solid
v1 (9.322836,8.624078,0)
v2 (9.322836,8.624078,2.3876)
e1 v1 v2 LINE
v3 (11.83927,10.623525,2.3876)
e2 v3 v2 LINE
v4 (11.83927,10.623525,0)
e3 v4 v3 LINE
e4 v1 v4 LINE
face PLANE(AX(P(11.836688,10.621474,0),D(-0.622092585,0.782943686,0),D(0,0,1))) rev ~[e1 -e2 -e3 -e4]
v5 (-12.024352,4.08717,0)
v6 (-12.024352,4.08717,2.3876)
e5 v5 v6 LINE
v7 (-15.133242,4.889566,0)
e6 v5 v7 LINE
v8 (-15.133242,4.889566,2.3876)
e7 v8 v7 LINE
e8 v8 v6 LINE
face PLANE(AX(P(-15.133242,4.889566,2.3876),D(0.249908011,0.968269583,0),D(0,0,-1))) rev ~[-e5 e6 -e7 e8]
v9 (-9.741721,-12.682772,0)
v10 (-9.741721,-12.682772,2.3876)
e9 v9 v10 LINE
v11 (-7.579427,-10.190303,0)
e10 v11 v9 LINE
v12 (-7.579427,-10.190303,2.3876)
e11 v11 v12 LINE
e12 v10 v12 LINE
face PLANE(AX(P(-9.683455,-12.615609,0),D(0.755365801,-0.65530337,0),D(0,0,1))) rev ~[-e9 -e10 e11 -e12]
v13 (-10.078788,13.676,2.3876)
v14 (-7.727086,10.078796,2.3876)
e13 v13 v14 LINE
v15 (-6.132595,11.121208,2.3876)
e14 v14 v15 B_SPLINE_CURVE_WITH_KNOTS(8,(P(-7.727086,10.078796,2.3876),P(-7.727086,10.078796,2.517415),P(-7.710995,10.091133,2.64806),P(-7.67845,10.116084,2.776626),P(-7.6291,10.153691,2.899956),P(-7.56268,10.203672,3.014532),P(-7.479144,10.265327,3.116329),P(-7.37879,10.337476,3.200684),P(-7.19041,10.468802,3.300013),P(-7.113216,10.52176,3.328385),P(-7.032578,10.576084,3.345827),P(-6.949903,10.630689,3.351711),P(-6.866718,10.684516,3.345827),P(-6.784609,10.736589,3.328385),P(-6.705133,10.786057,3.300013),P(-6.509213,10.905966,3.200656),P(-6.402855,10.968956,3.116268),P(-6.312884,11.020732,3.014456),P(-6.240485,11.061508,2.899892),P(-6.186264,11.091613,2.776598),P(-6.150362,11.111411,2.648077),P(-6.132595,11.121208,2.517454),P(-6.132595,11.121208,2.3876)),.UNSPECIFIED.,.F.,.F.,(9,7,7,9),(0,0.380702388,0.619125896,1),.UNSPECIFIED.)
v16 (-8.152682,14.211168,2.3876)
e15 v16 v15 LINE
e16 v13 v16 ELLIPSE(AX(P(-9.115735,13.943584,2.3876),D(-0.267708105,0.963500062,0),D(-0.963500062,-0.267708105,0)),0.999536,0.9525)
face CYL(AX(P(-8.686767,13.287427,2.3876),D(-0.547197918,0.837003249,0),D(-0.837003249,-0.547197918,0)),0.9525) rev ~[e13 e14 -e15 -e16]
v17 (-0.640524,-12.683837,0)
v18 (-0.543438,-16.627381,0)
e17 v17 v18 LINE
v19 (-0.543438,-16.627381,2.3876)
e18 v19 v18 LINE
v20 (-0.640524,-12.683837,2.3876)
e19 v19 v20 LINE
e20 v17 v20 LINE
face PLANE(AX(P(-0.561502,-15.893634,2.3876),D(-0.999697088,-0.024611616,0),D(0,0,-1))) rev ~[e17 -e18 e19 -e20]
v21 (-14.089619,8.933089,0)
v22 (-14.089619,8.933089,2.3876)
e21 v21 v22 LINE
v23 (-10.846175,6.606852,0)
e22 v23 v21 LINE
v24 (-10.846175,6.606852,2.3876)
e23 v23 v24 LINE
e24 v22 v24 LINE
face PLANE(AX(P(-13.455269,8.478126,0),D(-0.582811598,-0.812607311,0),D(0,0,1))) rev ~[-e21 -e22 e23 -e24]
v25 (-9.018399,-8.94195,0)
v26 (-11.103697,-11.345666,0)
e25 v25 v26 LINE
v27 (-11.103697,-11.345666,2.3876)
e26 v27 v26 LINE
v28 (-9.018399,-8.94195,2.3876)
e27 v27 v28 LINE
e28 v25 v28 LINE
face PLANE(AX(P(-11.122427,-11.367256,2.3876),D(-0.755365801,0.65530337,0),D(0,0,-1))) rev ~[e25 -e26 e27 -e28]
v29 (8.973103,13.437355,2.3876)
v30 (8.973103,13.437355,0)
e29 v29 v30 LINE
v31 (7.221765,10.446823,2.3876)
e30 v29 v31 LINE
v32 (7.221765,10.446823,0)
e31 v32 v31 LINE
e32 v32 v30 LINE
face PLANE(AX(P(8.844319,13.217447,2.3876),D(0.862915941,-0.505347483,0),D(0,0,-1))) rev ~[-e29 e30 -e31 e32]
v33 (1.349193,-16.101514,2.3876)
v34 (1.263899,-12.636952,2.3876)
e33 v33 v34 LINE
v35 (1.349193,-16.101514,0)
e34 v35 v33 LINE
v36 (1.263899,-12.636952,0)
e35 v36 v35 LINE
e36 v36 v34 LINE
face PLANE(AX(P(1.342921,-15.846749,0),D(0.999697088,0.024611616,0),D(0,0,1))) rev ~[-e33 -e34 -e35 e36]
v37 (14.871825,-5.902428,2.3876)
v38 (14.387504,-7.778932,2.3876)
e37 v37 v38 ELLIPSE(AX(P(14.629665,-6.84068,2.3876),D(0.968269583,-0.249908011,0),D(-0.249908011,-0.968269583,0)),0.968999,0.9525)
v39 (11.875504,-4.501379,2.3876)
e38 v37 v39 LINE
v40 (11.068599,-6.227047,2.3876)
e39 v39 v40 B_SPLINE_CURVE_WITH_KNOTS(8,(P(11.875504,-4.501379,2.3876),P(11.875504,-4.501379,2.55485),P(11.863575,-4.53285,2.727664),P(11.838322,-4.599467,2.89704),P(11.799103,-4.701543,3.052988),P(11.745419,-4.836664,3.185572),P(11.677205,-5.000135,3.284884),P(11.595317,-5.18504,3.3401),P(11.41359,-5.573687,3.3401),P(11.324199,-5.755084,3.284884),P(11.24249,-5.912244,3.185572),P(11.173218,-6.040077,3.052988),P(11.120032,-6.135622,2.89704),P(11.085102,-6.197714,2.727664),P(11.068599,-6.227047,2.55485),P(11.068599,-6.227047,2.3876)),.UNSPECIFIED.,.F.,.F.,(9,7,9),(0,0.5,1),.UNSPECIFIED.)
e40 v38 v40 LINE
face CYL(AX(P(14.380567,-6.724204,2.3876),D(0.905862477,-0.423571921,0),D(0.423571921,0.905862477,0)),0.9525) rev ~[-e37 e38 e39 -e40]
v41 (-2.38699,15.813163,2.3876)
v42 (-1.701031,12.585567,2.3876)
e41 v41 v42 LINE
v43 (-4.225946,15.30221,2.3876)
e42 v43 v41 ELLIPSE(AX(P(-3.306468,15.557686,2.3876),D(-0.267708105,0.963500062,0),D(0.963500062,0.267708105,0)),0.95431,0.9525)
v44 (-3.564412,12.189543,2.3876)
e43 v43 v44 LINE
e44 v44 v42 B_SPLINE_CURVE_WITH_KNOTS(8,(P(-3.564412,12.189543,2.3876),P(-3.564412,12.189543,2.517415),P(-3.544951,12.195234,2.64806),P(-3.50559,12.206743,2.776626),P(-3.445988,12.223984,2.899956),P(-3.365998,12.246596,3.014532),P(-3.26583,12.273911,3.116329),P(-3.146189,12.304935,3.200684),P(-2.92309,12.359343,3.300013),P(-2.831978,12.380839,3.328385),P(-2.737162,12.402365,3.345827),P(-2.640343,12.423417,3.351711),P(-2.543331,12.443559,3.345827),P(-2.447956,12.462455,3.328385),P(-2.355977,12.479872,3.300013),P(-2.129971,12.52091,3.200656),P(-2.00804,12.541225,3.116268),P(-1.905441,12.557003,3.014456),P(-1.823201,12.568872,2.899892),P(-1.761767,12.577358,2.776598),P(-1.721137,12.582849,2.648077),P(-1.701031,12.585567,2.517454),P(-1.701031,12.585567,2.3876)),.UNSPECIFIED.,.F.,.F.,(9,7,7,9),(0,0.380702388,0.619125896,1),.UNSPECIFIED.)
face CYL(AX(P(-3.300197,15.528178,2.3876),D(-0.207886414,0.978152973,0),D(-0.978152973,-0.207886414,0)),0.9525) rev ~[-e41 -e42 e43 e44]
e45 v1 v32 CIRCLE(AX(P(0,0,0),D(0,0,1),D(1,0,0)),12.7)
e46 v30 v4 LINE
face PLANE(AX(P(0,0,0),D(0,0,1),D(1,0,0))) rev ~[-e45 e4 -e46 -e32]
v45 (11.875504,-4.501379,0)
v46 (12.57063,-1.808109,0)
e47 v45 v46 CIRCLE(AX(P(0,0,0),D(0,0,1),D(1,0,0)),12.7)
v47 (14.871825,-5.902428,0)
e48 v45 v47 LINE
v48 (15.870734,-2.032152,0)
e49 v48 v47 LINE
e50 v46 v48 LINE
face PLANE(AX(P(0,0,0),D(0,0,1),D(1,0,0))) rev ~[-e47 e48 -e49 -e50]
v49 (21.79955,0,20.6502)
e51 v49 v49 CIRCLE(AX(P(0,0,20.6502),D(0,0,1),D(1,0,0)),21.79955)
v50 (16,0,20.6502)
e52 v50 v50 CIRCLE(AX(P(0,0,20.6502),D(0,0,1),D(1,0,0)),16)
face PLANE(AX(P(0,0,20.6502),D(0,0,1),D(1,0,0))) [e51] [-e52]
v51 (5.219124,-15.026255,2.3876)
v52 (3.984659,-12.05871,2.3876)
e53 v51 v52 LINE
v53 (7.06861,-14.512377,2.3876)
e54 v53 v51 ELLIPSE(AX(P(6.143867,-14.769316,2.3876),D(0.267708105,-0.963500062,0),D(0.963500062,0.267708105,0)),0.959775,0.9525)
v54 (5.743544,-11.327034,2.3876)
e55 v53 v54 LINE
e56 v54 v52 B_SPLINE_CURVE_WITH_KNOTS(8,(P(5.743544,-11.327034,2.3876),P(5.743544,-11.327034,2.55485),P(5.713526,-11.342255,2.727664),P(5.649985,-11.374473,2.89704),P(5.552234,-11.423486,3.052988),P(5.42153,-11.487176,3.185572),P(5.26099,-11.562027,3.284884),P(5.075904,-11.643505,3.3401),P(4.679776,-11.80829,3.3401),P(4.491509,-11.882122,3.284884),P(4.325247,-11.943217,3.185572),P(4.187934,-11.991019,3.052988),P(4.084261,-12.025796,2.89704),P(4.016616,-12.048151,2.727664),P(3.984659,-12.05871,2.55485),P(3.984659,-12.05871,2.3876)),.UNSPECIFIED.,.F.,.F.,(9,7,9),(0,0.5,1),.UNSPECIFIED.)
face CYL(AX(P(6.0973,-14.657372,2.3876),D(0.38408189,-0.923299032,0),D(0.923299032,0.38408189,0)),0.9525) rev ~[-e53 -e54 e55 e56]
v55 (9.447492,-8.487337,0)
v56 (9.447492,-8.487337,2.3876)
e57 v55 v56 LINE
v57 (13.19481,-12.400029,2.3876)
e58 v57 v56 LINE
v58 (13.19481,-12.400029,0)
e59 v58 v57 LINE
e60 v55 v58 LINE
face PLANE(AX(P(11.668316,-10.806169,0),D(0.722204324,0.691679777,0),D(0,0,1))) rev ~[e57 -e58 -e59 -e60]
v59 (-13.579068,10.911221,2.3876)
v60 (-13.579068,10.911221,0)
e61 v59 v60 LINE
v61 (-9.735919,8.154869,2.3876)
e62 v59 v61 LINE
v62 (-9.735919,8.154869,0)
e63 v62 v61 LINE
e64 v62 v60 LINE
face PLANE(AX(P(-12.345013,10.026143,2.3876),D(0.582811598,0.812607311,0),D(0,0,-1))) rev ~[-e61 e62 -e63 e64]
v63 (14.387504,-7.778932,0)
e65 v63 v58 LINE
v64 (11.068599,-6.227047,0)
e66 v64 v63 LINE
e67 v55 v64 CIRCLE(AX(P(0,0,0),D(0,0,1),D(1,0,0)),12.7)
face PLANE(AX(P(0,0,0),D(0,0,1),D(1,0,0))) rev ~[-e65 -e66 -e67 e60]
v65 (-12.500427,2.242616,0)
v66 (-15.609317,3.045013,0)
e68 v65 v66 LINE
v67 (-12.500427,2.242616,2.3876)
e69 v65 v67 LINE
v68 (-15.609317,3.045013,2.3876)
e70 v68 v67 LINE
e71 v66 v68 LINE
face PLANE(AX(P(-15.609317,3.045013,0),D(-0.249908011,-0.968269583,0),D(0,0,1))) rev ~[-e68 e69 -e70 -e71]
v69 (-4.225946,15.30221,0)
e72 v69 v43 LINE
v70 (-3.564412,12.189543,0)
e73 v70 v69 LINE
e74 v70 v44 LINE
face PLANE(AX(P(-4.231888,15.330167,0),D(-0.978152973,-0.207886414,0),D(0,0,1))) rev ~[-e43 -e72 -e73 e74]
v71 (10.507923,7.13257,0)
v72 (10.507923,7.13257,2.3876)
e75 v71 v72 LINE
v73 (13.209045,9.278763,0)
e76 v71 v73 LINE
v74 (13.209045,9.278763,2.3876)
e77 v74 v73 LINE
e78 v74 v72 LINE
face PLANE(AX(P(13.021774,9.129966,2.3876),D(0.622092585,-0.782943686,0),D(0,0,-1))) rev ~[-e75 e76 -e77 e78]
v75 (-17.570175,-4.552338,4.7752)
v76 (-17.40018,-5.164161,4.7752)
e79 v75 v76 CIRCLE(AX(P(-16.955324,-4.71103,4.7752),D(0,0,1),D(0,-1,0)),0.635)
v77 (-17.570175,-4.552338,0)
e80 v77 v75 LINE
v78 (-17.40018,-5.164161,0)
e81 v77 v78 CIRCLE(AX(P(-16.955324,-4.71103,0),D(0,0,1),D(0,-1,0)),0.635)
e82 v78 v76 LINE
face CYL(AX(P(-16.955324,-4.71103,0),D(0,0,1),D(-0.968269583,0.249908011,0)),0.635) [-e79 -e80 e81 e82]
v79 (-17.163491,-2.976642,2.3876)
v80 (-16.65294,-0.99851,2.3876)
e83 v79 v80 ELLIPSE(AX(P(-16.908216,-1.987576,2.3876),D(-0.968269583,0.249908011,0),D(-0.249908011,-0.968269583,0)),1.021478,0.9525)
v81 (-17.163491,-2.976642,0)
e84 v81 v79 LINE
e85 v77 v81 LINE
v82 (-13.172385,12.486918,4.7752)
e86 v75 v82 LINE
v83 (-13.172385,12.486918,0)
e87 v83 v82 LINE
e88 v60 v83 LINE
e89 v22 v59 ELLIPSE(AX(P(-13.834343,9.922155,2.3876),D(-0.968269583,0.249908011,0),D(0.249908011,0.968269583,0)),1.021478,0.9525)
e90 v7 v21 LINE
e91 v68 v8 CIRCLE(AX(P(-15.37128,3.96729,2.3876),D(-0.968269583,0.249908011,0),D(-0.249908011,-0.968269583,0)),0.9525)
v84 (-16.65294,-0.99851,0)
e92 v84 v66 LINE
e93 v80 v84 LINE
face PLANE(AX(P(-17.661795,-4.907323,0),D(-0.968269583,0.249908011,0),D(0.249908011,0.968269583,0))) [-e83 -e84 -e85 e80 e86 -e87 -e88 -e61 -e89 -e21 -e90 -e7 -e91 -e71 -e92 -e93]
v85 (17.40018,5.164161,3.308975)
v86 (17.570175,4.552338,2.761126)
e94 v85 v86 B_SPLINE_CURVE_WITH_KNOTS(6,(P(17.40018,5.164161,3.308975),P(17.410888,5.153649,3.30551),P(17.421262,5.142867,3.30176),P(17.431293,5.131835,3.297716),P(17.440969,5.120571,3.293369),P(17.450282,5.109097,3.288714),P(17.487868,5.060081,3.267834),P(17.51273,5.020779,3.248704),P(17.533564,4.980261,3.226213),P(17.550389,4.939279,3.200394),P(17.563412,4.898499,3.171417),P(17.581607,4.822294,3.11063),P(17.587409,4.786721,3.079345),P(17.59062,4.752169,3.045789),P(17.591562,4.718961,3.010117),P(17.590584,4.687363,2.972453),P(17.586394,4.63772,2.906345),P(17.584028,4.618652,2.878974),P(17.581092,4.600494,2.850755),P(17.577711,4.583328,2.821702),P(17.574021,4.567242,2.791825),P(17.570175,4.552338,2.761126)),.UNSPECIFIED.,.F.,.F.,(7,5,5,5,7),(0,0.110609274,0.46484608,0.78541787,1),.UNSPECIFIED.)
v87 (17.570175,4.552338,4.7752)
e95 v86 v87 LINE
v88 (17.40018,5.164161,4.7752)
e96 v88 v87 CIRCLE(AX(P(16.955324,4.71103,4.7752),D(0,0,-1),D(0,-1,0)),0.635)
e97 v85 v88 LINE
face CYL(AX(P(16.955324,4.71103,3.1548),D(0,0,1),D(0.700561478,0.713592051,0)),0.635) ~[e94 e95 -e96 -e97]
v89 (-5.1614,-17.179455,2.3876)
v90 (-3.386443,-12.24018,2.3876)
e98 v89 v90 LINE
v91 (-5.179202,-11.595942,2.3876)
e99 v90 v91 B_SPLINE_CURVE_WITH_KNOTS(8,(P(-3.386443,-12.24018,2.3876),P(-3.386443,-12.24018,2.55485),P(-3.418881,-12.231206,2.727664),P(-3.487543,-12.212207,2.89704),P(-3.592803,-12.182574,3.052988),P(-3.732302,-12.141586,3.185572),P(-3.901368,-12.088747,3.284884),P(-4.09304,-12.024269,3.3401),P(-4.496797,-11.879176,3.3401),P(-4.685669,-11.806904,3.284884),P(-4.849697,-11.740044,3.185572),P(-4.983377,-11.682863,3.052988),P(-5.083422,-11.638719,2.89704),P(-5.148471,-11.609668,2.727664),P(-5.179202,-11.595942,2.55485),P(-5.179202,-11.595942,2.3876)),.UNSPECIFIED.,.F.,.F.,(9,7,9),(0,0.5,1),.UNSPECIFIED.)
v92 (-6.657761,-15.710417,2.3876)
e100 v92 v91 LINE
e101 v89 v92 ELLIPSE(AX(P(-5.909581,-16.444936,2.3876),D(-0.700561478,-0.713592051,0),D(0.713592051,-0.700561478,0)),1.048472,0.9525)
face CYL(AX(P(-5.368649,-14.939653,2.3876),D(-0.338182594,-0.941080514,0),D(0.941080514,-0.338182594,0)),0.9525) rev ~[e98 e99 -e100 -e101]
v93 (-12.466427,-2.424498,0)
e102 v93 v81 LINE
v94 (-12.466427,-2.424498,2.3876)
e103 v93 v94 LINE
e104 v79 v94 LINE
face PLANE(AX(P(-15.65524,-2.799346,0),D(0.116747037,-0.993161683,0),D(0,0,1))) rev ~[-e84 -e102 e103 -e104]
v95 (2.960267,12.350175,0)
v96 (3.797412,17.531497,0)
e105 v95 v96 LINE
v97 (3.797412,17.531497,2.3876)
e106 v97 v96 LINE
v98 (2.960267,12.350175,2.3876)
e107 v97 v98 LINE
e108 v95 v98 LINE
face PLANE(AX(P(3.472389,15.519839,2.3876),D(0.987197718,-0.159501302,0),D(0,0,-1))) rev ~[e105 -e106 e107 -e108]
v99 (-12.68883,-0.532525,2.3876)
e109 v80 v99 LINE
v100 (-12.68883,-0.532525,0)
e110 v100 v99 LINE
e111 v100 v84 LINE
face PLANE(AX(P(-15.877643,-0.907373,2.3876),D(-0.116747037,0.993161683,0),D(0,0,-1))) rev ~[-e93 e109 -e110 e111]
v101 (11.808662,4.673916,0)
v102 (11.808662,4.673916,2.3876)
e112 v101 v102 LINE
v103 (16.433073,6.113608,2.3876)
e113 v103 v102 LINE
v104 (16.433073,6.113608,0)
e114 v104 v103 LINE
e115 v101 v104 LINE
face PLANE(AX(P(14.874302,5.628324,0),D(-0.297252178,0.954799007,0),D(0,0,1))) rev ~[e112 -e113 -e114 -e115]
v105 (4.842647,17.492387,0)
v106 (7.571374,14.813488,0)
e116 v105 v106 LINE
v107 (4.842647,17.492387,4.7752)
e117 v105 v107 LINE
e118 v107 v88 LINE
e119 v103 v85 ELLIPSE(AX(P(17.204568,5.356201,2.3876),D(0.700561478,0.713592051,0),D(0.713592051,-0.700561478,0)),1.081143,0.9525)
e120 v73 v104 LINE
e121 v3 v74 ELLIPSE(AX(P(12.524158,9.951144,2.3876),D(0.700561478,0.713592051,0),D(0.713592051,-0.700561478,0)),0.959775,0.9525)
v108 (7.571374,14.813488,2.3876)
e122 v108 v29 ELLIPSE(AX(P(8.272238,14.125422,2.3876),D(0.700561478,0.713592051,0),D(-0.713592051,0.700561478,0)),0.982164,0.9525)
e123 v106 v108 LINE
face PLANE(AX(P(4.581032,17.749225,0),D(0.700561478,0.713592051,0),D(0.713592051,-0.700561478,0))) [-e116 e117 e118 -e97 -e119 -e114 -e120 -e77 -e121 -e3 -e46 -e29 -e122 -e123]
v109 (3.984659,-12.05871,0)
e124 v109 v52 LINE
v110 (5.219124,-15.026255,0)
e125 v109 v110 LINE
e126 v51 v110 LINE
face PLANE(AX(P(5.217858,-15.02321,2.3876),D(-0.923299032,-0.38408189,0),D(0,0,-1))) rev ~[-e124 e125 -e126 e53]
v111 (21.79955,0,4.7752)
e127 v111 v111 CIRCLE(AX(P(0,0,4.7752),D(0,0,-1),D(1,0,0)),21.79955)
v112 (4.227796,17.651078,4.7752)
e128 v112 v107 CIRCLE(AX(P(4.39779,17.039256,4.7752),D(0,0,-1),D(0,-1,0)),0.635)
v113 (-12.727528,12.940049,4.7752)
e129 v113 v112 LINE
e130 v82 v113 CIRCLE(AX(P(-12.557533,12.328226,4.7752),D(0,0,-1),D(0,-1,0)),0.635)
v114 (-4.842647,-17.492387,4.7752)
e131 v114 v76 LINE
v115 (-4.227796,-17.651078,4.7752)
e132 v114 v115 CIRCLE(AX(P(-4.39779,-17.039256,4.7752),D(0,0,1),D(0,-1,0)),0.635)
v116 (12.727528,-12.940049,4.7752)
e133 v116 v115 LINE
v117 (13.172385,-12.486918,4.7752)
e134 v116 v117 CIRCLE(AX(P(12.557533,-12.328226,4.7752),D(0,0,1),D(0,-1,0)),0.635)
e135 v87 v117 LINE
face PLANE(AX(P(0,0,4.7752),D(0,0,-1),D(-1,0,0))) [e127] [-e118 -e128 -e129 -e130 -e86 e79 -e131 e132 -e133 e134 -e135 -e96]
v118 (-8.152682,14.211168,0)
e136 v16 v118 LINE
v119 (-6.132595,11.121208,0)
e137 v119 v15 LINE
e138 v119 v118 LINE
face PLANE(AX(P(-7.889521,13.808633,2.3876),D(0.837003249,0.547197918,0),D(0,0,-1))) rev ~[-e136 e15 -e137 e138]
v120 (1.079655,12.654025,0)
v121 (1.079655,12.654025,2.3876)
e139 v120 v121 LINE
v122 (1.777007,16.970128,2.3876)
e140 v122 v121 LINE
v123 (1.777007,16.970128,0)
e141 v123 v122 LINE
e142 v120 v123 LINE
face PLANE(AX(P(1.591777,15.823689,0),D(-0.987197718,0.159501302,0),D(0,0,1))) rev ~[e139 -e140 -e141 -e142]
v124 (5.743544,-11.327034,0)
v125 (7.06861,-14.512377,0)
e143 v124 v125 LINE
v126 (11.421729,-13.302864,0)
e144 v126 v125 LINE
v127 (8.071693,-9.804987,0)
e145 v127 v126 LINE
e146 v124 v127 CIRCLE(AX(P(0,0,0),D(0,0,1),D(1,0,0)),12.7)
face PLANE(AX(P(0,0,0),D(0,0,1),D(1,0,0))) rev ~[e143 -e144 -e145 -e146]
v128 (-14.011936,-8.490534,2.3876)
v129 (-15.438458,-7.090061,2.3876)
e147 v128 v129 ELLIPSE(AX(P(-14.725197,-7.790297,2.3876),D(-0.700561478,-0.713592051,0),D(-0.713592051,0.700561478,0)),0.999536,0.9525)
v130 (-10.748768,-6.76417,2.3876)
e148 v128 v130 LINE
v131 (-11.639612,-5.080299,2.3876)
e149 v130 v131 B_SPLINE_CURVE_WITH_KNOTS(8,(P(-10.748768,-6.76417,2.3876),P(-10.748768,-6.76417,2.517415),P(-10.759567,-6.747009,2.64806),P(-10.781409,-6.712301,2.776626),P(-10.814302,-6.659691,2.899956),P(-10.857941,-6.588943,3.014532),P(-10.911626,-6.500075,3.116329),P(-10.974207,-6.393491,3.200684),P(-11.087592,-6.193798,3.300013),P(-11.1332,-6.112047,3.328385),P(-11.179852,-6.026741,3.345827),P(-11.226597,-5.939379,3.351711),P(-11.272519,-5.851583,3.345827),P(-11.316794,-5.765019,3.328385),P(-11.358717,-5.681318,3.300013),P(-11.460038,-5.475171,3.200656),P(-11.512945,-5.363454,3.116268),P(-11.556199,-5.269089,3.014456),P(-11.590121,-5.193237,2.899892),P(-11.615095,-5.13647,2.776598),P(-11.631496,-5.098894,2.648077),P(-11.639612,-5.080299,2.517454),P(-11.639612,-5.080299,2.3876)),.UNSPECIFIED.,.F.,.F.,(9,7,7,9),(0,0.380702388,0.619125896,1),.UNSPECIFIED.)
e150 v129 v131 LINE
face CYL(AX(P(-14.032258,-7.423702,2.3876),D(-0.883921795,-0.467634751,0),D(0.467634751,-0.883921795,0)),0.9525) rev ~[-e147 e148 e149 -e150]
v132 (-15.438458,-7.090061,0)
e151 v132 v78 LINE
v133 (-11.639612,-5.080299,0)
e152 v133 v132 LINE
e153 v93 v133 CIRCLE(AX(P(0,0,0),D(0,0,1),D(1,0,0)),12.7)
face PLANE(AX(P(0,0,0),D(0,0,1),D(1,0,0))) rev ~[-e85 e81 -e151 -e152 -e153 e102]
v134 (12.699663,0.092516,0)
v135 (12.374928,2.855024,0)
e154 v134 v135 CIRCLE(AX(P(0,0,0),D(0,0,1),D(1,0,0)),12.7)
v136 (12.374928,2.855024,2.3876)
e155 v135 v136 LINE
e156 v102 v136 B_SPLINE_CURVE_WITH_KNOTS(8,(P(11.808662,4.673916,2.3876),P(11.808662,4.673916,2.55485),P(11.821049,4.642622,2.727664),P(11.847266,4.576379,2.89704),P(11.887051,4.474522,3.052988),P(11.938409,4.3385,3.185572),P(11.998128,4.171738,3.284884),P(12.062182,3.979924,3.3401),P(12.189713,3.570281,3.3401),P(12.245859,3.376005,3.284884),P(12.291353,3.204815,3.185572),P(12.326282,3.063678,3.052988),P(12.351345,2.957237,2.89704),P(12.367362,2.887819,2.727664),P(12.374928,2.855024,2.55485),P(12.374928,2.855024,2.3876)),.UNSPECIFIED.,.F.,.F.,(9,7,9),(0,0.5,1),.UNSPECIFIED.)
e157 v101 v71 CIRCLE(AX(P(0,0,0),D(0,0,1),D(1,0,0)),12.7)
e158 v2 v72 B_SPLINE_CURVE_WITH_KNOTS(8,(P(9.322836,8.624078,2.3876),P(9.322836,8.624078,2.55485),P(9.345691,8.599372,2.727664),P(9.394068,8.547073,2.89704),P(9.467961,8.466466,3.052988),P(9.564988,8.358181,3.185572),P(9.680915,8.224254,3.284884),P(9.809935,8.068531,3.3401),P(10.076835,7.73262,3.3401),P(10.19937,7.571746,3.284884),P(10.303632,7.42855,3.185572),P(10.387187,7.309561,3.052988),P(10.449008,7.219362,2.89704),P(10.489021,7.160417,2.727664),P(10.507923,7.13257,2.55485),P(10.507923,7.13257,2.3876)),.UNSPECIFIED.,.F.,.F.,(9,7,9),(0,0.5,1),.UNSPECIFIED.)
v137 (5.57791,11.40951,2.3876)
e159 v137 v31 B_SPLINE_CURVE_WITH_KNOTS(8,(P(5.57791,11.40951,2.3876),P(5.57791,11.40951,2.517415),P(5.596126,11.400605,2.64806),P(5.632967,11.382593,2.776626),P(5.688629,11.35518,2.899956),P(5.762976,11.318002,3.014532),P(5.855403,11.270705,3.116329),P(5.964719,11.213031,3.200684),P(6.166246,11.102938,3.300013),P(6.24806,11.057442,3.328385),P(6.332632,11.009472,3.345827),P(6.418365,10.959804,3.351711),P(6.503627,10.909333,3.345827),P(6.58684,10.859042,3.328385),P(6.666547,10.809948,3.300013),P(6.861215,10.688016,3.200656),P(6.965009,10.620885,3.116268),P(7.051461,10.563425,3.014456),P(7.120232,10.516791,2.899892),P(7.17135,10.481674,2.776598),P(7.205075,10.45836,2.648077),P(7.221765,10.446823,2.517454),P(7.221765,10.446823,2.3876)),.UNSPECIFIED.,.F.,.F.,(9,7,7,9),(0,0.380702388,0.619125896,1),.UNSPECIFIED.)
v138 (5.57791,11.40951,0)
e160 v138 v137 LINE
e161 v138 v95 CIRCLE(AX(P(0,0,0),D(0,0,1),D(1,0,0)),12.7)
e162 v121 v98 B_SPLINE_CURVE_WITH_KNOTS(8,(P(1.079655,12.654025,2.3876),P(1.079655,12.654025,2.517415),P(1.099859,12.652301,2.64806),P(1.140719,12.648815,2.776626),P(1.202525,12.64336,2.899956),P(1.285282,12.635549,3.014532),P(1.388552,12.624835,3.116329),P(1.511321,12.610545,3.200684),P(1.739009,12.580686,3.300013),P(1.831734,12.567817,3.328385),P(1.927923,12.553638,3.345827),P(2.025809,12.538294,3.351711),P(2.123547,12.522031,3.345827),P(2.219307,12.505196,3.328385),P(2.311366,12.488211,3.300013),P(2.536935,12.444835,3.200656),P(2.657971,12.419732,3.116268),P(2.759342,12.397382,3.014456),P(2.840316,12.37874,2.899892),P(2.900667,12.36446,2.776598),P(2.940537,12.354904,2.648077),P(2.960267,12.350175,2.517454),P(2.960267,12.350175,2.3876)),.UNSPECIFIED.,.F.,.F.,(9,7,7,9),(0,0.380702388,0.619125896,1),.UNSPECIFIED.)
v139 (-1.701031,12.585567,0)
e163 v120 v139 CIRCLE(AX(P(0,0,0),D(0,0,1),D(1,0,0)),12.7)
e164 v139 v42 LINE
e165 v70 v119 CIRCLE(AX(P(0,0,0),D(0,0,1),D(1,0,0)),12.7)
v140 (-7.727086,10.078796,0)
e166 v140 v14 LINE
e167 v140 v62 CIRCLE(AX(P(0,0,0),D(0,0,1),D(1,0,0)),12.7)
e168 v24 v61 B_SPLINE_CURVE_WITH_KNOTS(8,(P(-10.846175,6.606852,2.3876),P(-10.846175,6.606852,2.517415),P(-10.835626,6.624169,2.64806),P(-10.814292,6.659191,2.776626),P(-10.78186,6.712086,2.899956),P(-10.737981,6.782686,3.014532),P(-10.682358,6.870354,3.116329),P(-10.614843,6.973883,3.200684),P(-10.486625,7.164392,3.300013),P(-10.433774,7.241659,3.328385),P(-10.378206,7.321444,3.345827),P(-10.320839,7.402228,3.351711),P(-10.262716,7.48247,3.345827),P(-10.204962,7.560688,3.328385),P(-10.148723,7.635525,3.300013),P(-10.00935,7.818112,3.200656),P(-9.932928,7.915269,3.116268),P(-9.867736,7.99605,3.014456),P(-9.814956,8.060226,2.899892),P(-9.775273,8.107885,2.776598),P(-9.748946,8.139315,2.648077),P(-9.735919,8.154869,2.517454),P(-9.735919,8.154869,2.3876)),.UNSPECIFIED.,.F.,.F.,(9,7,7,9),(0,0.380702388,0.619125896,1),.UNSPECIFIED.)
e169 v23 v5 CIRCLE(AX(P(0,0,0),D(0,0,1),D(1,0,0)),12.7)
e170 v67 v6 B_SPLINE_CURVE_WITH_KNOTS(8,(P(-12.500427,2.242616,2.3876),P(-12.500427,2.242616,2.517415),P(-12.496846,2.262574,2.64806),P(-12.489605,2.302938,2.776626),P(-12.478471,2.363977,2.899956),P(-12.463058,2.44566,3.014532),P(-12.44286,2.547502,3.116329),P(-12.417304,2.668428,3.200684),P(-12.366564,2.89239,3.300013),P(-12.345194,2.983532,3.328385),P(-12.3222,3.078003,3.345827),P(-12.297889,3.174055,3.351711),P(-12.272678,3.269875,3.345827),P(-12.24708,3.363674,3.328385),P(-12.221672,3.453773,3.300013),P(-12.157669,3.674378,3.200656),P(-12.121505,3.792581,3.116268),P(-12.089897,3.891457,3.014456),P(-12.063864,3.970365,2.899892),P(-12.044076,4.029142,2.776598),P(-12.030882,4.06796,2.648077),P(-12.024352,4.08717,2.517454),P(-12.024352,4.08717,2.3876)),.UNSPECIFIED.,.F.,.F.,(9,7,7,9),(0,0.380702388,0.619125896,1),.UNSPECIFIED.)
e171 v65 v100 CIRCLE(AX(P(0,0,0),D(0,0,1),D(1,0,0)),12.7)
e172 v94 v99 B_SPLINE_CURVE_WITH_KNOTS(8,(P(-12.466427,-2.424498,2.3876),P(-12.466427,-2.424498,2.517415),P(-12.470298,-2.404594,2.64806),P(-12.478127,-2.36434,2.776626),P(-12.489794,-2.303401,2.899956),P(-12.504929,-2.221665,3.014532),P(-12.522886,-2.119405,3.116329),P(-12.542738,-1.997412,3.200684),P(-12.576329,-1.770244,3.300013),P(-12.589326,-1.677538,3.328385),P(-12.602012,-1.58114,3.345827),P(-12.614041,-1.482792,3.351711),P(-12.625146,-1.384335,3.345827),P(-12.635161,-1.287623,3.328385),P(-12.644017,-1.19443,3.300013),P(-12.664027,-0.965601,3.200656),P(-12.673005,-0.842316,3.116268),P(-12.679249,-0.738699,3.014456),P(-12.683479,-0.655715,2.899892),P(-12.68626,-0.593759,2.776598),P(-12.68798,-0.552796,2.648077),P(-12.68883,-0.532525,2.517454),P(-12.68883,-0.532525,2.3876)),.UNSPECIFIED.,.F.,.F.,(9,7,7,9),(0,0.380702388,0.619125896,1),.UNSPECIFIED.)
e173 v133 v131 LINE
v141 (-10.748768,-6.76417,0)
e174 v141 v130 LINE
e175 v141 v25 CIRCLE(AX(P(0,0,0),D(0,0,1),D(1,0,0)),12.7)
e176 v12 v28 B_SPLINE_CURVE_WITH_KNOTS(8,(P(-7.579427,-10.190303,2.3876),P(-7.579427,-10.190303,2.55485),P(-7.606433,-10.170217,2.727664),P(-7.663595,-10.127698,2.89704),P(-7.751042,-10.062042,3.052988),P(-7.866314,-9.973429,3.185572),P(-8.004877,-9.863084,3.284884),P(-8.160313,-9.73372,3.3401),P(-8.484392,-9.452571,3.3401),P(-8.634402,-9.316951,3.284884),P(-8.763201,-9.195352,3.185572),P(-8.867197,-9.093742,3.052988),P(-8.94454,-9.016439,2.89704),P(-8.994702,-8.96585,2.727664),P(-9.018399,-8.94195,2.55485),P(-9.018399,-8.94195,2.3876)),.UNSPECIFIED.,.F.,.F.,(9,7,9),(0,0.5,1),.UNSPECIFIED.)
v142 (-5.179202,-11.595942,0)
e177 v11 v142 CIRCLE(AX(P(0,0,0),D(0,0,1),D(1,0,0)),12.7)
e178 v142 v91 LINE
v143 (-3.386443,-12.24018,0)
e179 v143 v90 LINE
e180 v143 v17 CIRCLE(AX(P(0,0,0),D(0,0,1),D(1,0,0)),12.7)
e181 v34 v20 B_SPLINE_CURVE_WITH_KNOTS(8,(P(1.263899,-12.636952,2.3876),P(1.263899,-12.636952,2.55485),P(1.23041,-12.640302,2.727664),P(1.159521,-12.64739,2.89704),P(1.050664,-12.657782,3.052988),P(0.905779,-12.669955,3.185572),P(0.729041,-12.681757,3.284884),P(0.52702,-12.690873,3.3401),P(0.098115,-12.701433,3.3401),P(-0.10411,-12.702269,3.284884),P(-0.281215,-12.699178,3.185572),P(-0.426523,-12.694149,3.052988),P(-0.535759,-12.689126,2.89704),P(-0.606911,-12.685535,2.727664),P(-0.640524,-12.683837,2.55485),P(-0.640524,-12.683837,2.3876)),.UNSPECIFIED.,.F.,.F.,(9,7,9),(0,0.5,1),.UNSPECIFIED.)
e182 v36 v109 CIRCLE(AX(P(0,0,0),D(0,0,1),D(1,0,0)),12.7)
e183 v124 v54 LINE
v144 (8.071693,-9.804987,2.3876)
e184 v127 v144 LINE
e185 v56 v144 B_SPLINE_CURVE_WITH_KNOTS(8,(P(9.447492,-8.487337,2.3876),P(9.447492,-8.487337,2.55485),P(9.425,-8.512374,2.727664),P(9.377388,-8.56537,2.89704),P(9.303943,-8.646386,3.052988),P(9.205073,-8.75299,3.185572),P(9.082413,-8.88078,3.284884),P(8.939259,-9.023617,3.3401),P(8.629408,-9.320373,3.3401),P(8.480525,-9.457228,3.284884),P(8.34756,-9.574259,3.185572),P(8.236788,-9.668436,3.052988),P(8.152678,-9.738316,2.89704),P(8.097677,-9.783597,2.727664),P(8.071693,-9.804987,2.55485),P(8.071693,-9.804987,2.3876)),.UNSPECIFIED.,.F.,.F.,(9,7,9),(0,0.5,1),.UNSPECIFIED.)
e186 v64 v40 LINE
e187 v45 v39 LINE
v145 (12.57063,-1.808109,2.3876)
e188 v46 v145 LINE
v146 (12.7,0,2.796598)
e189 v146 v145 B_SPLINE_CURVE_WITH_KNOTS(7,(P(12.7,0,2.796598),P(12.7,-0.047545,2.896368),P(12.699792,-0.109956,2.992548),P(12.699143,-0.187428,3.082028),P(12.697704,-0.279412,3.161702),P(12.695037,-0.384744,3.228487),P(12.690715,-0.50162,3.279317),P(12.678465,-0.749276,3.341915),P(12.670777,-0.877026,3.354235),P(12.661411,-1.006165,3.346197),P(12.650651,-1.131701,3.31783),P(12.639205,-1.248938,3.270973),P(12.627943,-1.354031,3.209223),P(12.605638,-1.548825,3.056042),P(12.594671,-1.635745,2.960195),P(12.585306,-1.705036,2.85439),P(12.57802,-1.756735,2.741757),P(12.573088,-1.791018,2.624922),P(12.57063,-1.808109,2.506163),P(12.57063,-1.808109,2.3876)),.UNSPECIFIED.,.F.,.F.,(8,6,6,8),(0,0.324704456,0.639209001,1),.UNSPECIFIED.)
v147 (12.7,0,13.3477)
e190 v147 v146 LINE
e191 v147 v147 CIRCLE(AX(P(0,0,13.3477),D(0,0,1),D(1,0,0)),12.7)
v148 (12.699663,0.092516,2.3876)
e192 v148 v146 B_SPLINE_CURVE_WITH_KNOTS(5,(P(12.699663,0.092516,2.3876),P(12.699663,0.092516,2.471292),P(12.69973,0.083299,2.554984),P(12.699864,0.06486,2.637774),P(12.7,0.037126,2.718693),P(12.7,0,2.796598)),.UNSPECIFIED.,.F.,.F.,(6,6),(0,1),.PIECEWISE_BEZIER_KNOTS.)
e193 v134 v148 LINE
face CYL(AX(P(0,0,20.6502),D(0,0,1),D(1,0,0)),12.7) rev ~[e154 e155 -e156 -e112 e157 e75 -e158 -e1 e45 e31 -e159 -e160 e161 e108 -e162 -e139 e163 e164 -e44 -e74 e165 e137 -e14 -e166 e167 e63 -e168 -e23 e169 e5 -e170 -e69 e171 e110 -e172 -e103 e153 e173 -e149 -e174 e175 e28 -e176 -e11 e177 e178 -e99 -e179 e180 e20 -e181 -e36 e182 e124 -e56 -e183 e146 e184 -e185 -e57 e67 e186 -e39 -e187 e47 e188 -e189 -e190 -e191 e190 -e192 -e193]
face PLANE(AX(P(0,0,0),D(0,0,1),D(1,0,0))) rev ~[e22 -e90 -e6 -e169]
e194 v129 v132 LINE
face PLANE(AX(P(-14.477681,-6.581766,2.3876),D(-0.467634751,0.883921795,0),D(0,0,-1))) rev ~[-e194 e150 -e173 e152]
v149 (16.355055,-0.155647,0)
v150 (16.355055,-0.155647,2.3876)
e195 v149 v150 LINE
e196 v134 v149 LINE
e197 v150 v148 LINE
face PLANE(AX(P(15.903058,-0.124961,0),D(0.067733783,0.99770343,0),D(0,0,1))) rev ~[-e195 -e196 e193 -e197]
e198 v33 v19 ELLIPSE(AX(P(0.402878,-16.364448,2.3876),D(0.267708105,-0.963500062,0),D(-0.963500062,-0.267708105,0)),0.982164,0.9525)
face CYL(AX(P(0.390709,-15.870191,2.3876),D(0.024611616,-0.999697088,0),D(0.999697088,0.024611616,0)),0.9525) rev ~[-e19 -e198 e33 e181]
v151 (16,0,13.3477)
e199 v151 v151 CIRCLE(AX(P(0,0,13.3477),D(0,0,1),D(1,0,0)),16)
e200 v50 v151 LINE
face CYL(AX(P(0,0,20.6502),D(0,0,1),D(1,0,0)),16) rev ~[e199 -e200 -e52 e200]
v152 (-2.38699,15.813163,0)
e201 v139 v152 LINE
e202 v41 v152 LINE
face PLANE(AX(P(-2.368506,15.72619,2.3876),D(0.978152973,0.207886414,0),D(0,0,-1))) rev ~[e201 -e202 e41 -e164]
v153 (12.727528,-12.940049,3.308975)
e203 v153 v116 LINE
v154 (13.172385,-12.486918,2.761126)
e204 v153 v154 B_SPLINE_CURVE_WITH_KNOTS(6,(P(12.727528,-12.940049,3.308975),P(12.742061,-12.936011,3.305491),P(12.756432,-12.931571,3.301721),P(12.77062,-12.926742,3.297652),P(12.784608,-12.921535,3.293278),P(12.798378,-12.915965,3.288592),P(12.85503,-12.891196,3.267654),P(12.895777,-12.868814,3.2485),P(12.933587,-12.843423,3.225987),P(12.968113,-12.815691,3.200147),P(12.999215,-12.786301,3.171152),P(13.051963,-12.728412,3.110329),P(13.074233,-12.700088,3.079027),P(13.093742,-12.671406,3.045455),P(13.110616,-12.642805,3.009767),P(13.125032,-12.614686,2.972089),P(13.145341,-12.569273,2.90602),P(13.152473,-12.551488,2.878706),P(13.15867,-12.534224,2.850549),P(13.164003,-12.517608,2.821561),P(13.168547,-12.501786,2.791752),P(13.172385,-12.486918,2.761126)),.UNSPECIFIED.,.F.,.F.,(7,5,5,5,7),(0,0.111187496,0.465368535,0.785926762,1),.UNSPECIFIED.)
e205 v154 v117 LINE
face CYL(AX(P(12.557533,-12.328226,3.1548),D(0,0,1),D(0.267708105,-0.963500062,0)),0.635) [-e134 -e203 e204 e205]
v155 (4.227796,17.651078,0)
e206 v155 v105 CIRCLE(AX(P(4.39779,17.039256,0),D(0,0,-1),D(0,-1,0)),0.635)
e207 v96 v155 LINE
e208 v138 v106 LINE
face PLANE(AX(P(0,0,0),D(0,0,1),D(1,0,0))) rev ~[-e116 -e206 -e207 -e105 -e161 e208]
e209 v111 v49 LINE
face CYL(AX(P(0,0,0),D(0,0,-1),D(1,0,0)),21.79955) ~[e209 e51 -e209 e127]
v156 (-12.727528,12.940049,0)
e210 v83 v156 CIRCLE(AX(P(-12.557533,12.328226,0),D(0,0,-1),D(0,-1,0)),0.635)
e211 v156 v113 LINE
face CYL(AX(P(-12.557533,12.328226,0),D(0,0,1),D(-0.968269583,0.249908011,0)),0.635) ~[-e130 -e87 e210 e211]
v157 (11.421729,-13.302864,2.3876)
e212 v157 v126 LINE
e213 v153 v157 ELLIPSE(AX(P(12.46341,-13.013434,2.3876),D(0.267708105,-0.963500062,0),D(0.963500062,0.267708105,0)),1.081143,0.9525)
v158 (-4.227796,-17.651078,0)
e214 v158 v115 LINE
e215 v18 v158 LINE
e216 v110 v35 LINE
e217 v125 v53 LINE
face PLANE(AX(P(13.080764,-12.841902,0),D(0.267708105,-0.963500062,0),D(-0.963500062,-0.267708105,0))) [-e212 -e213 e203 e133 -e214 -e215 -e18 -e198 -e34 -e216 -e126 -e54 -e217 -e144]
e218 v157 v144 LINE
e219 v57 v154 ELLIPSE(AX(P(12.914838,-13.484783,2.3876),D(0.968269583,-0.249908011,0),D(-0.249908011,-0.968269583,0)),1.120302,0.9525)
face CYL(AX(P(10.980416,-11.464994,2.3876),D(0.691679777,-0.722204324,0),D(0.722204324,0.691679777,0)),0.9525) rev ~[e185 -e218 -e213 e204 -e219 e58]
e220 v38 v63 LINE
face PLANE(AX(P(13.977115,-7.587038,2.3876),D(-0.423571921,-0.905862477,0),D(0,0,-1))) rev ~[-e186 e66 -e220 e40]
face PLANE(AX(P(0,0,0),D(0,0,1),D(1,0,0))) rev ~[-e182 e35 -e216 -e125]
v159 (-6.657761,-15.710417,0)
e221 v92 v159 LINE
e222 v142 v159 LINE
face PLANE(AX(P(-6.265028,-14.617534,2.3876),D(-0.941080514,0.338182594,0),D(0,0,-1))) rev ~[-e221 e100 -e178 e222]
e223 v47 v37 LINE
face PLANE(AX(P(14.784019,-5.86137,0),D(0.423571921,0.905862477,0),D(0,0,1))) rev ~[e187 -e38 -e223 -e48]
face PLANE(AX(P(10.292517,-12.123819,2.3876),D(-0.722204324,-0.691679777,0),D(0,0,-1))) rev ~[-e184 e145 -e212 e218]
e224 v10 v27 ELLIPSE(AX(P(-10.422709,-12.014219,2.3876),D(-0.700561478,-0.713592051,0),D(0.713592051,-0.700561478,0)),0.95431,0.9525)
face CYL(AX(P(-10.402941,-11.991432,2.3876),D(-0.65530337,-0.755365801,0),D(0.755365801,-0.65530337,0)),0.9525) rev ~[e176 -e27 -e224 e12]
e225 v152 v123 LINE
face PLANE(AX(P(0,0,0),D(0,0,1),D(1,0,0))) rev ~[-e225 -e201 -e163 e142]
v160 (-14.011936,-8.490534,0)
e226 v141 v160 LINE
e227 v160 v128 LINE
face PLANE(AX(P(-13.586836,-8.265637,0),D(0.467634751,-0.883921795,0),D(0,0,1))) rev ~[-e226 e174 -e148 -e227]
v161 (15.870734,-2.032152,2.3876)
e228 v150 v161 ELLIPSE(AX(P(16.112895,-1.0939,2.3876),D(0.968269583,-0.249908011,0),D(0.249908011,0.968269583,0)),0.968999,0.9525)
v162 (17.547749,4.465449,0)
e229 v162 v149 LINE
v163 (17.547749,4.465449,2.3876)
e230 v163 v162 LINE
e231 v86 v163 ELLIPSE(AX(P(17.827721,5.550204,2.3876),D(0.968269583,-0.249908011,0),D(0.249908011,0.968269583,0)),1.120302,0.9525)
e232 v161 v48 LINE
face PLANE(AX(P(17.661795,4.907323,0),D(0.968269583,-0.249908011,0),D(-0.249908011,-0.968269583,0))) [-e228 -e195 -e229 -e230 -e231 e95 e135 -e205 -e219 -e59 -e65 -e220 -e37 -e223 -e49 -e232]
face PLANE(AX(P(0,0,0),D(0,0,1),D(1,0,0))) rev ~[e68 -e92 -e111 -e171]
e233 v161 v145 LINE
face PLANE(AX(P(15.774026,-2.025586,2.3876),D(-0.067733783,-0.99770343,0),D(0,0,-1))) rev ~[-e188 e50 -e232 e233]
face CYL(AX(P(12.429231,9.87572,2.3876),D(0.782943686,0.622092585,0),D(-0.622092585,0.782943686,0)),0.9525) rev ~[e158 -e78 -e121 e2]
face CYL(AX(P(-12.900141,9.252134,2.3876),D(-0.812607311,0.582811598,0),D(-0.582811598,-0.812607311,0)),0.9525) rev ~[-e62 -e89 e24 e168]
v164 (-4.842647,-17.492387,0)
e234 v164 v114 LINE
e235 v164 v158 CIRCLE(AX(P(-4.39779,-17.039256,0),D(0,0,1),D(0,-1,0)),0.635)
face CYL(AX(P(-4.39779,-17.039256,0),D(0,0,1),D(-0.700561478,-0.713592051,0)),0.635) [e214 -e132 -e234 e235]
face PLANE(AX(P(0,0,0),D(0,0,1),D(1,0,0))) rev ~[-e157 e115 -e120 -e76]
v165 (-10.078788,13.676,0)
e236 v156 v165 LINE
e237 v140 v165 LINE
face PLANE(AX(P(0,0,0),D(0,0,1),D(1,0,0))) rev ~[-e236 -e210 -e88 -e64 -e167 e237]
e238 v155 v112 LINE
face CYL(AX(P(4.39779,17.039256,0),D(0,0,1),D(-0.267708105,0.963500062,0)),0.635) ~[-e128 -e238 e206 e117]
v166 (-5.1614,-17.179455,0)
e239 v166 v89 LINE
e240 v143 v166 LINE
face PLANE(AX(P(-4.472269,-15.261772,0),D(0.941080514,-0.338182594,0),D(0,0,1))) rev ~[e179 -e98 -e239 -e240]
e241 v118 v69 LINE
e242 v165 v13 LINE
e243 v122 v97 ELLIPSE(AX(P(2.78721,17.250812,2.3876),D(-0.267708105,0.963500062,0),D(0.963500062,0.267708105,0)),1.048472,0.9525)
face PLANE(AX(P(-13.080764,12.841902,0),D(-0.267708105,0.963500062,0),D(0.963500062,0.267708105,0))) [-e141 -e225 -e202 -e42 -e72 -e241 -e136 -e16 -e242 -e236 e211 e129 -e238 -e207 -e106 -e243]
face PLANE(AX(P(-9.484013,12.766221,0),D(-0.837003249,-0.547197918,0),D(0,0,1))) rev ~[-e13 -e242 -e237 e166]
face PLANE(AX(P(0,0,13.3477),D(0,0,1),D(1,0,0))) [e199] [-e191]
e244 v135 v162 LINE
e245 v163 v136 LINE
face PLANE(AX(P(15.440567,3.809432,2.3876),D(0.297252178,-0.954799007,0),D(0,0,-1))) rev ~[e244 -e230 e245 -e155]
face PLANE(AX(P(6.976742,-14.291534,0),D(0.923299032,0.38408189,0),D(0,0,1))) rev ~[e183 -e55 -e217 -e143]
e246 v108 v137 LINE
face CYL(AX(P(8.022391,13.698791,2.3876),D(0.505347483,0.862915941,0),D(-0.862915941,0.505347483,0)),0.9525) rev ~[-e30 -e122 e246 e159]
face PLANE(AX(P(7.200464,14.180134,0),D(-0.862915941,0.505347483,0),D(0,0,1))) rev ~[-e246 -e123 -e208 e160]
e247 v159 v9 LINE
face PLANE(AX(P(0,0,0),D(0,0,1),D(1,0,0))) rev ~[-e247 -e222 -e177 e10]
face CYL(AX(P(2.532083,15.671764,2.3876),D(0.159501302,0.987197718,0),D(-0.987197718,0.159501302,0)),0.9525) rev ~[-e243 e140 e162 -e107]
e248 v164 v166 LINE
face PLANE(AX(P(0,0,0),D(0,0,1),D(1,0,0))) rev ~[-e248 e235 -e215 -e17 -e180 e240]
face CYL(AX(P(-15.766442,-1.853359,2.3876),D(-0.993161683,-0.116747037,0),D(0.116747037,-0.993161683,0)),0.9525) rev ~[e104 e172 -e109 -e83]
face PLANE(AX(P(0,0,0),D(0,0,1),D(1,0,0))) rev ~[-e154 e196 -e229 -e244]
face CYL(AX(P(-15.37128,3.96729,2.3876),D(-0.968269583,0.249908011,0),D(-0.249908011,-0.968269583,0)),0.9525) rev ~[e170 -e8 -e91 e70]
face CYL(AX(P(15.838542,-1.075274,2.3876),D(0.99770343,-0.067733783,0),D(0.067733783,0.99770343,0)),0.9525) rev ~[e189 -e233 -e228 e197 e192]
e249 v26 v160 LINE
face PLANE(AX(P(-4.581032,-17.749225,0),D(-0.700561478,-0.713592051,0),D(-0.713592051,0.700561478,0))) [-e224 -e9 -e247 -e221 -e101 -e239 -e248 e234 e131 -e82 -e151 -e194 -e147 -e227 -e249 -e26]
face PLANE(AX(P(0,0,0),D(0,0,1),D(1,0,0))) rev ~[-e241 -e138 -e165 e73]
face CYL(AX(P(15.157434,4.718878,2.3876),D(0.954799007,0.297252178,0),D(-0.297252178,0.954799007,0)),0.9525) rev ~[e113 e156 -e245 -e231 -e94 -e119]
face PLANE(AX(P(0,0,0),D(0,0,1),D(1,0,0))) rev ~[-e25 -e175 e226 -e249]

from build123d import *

# Parameters (mm, degrees)
SKETCH1_R           = 21.79955
BOSS_EXTRUDE1_DEPTH = 20.6502
SKETCH2_R           = 12.7
CUT_EXTRUDE1_DEPTH  = 20.6502
SKETCH3_R           = 16.000000004
CUT_EXTRUDE2_DEPTH  = 7.3025
SKETCH4_OUTSIDE_W   = 58.604
SKETCH4_OUTSIDE_H   = 58.604
CUT_EXTRUDE3_DEPTH  = 4.7752
CUT_EXTRUDE4_DEPTH  = 9.8552
CIRPATTERN1_COUNT   = 17
FILLET1_R           = 0.635


with BuildPart() as part:
    # Sketch1 → Boss-Extrude1 (new body)
    with BuildSketch(Plane.XY):
        Circle(SKETCH1_R)
    extrude(amount=BOSS_EXTRUDE1_DEPTH)

    # Sketch2 → Cut-Extrude1 (cut)
    with BuildSketch(Plane.XY.offset(20.6502)):
        Circle(SKETCH2_R)
    extrude(amount=-CUT_EXTRUDE1_DEPTH, mode=Mode.SUBTRACT)

    # Sketch3 → Cut-Extrude2 (cut)
    with BuildSketch(Plane.XY.offset(20.6502)):
        Circle(SKETCH3_R)
    extrude(amount=-CUT_EXTRUDE2_DEPTH, mode=Mode.SUBTRACT)

    # Sketch4 outside → Cut-Extrude3 (cut)
    with BuildSketch(Plane(origin=(0, 0, 0), x_dir=(-1, 0, 0), z_dir=(0, 0, -1))):
        Rectangle(SKETCH4_OUTSIDE_W, SKETCH4_OUTSIDE_H)
        Polygon((17.661795398, -4.907322758), (13.080763872, 12.841902112), (-4.581031526, 17.74922487), (-17.661795398, 4.907322758), (-13.080763872, -12.841902112), (4.581031526, -17.74922487), align=None, mode=Mode.SUBTRACT)
    extrude(amount=-CUT_EXTRUDE3_DEPTH, mode=Mode.SUBTRACT)

    # Sketch5 → Cut-Extrude4 (cut, symmetric)
    with BuildSketch(Plane(origin=(-15.371279635, 3.967289677, 0), x_dir=(0, 0, 1), z_dir=(-0.9682695833030739, 0.24990801117629627, 0))):
        with BuildLine():
            Line((2.3876, 0.9525), (0, 0.9525))
            Line((0, 0.9525), (0, -0.9525))
            Line((0, -0.9525), (2.3876, -0.9525))
            ThreePointArc((2.3876, -0.9525), (3.3401, 0), (2.3876, 0.9525))
        make_face()
    cut_extrude4 = extrude(amount=CUT_EXTRUDE4_DEPTH, both=True, mode=Mode.SUBTRACT)

    # CirPattern1: Cut-Extrude4 ×17 about axis
    cirpattern1_axis = Axis((0, 0, 13.3477), (0, 0, 1))
    for i in range(1, CIRPATTERN1_COUNT):
        add(cut_extrude4.rotate(cirpattern1_axis, i * 360 / CIRPATTERN1_COUNT), mode=Mode.SUBTRACT)

    # Fillet1
    fillet1_edges = [part.edges().sort_by_distance(p)[0] for p in [
        (-17.661795398, -4.907322758, 2.3876),
        (-13.080763872, 12.841902112, 2.3876),
        (4.581031526, 17.74922487, 2.3876),
        (17.661795398, 4.907322758, 3.964999961),
        (13.080763872, -12.841902112, 3.964999961),
        (-4.581031526, -17.74922487, 2.3876),
    ]]
    fillet(fillet1_edges, radius=FILLET1_R)


solid = part.part
